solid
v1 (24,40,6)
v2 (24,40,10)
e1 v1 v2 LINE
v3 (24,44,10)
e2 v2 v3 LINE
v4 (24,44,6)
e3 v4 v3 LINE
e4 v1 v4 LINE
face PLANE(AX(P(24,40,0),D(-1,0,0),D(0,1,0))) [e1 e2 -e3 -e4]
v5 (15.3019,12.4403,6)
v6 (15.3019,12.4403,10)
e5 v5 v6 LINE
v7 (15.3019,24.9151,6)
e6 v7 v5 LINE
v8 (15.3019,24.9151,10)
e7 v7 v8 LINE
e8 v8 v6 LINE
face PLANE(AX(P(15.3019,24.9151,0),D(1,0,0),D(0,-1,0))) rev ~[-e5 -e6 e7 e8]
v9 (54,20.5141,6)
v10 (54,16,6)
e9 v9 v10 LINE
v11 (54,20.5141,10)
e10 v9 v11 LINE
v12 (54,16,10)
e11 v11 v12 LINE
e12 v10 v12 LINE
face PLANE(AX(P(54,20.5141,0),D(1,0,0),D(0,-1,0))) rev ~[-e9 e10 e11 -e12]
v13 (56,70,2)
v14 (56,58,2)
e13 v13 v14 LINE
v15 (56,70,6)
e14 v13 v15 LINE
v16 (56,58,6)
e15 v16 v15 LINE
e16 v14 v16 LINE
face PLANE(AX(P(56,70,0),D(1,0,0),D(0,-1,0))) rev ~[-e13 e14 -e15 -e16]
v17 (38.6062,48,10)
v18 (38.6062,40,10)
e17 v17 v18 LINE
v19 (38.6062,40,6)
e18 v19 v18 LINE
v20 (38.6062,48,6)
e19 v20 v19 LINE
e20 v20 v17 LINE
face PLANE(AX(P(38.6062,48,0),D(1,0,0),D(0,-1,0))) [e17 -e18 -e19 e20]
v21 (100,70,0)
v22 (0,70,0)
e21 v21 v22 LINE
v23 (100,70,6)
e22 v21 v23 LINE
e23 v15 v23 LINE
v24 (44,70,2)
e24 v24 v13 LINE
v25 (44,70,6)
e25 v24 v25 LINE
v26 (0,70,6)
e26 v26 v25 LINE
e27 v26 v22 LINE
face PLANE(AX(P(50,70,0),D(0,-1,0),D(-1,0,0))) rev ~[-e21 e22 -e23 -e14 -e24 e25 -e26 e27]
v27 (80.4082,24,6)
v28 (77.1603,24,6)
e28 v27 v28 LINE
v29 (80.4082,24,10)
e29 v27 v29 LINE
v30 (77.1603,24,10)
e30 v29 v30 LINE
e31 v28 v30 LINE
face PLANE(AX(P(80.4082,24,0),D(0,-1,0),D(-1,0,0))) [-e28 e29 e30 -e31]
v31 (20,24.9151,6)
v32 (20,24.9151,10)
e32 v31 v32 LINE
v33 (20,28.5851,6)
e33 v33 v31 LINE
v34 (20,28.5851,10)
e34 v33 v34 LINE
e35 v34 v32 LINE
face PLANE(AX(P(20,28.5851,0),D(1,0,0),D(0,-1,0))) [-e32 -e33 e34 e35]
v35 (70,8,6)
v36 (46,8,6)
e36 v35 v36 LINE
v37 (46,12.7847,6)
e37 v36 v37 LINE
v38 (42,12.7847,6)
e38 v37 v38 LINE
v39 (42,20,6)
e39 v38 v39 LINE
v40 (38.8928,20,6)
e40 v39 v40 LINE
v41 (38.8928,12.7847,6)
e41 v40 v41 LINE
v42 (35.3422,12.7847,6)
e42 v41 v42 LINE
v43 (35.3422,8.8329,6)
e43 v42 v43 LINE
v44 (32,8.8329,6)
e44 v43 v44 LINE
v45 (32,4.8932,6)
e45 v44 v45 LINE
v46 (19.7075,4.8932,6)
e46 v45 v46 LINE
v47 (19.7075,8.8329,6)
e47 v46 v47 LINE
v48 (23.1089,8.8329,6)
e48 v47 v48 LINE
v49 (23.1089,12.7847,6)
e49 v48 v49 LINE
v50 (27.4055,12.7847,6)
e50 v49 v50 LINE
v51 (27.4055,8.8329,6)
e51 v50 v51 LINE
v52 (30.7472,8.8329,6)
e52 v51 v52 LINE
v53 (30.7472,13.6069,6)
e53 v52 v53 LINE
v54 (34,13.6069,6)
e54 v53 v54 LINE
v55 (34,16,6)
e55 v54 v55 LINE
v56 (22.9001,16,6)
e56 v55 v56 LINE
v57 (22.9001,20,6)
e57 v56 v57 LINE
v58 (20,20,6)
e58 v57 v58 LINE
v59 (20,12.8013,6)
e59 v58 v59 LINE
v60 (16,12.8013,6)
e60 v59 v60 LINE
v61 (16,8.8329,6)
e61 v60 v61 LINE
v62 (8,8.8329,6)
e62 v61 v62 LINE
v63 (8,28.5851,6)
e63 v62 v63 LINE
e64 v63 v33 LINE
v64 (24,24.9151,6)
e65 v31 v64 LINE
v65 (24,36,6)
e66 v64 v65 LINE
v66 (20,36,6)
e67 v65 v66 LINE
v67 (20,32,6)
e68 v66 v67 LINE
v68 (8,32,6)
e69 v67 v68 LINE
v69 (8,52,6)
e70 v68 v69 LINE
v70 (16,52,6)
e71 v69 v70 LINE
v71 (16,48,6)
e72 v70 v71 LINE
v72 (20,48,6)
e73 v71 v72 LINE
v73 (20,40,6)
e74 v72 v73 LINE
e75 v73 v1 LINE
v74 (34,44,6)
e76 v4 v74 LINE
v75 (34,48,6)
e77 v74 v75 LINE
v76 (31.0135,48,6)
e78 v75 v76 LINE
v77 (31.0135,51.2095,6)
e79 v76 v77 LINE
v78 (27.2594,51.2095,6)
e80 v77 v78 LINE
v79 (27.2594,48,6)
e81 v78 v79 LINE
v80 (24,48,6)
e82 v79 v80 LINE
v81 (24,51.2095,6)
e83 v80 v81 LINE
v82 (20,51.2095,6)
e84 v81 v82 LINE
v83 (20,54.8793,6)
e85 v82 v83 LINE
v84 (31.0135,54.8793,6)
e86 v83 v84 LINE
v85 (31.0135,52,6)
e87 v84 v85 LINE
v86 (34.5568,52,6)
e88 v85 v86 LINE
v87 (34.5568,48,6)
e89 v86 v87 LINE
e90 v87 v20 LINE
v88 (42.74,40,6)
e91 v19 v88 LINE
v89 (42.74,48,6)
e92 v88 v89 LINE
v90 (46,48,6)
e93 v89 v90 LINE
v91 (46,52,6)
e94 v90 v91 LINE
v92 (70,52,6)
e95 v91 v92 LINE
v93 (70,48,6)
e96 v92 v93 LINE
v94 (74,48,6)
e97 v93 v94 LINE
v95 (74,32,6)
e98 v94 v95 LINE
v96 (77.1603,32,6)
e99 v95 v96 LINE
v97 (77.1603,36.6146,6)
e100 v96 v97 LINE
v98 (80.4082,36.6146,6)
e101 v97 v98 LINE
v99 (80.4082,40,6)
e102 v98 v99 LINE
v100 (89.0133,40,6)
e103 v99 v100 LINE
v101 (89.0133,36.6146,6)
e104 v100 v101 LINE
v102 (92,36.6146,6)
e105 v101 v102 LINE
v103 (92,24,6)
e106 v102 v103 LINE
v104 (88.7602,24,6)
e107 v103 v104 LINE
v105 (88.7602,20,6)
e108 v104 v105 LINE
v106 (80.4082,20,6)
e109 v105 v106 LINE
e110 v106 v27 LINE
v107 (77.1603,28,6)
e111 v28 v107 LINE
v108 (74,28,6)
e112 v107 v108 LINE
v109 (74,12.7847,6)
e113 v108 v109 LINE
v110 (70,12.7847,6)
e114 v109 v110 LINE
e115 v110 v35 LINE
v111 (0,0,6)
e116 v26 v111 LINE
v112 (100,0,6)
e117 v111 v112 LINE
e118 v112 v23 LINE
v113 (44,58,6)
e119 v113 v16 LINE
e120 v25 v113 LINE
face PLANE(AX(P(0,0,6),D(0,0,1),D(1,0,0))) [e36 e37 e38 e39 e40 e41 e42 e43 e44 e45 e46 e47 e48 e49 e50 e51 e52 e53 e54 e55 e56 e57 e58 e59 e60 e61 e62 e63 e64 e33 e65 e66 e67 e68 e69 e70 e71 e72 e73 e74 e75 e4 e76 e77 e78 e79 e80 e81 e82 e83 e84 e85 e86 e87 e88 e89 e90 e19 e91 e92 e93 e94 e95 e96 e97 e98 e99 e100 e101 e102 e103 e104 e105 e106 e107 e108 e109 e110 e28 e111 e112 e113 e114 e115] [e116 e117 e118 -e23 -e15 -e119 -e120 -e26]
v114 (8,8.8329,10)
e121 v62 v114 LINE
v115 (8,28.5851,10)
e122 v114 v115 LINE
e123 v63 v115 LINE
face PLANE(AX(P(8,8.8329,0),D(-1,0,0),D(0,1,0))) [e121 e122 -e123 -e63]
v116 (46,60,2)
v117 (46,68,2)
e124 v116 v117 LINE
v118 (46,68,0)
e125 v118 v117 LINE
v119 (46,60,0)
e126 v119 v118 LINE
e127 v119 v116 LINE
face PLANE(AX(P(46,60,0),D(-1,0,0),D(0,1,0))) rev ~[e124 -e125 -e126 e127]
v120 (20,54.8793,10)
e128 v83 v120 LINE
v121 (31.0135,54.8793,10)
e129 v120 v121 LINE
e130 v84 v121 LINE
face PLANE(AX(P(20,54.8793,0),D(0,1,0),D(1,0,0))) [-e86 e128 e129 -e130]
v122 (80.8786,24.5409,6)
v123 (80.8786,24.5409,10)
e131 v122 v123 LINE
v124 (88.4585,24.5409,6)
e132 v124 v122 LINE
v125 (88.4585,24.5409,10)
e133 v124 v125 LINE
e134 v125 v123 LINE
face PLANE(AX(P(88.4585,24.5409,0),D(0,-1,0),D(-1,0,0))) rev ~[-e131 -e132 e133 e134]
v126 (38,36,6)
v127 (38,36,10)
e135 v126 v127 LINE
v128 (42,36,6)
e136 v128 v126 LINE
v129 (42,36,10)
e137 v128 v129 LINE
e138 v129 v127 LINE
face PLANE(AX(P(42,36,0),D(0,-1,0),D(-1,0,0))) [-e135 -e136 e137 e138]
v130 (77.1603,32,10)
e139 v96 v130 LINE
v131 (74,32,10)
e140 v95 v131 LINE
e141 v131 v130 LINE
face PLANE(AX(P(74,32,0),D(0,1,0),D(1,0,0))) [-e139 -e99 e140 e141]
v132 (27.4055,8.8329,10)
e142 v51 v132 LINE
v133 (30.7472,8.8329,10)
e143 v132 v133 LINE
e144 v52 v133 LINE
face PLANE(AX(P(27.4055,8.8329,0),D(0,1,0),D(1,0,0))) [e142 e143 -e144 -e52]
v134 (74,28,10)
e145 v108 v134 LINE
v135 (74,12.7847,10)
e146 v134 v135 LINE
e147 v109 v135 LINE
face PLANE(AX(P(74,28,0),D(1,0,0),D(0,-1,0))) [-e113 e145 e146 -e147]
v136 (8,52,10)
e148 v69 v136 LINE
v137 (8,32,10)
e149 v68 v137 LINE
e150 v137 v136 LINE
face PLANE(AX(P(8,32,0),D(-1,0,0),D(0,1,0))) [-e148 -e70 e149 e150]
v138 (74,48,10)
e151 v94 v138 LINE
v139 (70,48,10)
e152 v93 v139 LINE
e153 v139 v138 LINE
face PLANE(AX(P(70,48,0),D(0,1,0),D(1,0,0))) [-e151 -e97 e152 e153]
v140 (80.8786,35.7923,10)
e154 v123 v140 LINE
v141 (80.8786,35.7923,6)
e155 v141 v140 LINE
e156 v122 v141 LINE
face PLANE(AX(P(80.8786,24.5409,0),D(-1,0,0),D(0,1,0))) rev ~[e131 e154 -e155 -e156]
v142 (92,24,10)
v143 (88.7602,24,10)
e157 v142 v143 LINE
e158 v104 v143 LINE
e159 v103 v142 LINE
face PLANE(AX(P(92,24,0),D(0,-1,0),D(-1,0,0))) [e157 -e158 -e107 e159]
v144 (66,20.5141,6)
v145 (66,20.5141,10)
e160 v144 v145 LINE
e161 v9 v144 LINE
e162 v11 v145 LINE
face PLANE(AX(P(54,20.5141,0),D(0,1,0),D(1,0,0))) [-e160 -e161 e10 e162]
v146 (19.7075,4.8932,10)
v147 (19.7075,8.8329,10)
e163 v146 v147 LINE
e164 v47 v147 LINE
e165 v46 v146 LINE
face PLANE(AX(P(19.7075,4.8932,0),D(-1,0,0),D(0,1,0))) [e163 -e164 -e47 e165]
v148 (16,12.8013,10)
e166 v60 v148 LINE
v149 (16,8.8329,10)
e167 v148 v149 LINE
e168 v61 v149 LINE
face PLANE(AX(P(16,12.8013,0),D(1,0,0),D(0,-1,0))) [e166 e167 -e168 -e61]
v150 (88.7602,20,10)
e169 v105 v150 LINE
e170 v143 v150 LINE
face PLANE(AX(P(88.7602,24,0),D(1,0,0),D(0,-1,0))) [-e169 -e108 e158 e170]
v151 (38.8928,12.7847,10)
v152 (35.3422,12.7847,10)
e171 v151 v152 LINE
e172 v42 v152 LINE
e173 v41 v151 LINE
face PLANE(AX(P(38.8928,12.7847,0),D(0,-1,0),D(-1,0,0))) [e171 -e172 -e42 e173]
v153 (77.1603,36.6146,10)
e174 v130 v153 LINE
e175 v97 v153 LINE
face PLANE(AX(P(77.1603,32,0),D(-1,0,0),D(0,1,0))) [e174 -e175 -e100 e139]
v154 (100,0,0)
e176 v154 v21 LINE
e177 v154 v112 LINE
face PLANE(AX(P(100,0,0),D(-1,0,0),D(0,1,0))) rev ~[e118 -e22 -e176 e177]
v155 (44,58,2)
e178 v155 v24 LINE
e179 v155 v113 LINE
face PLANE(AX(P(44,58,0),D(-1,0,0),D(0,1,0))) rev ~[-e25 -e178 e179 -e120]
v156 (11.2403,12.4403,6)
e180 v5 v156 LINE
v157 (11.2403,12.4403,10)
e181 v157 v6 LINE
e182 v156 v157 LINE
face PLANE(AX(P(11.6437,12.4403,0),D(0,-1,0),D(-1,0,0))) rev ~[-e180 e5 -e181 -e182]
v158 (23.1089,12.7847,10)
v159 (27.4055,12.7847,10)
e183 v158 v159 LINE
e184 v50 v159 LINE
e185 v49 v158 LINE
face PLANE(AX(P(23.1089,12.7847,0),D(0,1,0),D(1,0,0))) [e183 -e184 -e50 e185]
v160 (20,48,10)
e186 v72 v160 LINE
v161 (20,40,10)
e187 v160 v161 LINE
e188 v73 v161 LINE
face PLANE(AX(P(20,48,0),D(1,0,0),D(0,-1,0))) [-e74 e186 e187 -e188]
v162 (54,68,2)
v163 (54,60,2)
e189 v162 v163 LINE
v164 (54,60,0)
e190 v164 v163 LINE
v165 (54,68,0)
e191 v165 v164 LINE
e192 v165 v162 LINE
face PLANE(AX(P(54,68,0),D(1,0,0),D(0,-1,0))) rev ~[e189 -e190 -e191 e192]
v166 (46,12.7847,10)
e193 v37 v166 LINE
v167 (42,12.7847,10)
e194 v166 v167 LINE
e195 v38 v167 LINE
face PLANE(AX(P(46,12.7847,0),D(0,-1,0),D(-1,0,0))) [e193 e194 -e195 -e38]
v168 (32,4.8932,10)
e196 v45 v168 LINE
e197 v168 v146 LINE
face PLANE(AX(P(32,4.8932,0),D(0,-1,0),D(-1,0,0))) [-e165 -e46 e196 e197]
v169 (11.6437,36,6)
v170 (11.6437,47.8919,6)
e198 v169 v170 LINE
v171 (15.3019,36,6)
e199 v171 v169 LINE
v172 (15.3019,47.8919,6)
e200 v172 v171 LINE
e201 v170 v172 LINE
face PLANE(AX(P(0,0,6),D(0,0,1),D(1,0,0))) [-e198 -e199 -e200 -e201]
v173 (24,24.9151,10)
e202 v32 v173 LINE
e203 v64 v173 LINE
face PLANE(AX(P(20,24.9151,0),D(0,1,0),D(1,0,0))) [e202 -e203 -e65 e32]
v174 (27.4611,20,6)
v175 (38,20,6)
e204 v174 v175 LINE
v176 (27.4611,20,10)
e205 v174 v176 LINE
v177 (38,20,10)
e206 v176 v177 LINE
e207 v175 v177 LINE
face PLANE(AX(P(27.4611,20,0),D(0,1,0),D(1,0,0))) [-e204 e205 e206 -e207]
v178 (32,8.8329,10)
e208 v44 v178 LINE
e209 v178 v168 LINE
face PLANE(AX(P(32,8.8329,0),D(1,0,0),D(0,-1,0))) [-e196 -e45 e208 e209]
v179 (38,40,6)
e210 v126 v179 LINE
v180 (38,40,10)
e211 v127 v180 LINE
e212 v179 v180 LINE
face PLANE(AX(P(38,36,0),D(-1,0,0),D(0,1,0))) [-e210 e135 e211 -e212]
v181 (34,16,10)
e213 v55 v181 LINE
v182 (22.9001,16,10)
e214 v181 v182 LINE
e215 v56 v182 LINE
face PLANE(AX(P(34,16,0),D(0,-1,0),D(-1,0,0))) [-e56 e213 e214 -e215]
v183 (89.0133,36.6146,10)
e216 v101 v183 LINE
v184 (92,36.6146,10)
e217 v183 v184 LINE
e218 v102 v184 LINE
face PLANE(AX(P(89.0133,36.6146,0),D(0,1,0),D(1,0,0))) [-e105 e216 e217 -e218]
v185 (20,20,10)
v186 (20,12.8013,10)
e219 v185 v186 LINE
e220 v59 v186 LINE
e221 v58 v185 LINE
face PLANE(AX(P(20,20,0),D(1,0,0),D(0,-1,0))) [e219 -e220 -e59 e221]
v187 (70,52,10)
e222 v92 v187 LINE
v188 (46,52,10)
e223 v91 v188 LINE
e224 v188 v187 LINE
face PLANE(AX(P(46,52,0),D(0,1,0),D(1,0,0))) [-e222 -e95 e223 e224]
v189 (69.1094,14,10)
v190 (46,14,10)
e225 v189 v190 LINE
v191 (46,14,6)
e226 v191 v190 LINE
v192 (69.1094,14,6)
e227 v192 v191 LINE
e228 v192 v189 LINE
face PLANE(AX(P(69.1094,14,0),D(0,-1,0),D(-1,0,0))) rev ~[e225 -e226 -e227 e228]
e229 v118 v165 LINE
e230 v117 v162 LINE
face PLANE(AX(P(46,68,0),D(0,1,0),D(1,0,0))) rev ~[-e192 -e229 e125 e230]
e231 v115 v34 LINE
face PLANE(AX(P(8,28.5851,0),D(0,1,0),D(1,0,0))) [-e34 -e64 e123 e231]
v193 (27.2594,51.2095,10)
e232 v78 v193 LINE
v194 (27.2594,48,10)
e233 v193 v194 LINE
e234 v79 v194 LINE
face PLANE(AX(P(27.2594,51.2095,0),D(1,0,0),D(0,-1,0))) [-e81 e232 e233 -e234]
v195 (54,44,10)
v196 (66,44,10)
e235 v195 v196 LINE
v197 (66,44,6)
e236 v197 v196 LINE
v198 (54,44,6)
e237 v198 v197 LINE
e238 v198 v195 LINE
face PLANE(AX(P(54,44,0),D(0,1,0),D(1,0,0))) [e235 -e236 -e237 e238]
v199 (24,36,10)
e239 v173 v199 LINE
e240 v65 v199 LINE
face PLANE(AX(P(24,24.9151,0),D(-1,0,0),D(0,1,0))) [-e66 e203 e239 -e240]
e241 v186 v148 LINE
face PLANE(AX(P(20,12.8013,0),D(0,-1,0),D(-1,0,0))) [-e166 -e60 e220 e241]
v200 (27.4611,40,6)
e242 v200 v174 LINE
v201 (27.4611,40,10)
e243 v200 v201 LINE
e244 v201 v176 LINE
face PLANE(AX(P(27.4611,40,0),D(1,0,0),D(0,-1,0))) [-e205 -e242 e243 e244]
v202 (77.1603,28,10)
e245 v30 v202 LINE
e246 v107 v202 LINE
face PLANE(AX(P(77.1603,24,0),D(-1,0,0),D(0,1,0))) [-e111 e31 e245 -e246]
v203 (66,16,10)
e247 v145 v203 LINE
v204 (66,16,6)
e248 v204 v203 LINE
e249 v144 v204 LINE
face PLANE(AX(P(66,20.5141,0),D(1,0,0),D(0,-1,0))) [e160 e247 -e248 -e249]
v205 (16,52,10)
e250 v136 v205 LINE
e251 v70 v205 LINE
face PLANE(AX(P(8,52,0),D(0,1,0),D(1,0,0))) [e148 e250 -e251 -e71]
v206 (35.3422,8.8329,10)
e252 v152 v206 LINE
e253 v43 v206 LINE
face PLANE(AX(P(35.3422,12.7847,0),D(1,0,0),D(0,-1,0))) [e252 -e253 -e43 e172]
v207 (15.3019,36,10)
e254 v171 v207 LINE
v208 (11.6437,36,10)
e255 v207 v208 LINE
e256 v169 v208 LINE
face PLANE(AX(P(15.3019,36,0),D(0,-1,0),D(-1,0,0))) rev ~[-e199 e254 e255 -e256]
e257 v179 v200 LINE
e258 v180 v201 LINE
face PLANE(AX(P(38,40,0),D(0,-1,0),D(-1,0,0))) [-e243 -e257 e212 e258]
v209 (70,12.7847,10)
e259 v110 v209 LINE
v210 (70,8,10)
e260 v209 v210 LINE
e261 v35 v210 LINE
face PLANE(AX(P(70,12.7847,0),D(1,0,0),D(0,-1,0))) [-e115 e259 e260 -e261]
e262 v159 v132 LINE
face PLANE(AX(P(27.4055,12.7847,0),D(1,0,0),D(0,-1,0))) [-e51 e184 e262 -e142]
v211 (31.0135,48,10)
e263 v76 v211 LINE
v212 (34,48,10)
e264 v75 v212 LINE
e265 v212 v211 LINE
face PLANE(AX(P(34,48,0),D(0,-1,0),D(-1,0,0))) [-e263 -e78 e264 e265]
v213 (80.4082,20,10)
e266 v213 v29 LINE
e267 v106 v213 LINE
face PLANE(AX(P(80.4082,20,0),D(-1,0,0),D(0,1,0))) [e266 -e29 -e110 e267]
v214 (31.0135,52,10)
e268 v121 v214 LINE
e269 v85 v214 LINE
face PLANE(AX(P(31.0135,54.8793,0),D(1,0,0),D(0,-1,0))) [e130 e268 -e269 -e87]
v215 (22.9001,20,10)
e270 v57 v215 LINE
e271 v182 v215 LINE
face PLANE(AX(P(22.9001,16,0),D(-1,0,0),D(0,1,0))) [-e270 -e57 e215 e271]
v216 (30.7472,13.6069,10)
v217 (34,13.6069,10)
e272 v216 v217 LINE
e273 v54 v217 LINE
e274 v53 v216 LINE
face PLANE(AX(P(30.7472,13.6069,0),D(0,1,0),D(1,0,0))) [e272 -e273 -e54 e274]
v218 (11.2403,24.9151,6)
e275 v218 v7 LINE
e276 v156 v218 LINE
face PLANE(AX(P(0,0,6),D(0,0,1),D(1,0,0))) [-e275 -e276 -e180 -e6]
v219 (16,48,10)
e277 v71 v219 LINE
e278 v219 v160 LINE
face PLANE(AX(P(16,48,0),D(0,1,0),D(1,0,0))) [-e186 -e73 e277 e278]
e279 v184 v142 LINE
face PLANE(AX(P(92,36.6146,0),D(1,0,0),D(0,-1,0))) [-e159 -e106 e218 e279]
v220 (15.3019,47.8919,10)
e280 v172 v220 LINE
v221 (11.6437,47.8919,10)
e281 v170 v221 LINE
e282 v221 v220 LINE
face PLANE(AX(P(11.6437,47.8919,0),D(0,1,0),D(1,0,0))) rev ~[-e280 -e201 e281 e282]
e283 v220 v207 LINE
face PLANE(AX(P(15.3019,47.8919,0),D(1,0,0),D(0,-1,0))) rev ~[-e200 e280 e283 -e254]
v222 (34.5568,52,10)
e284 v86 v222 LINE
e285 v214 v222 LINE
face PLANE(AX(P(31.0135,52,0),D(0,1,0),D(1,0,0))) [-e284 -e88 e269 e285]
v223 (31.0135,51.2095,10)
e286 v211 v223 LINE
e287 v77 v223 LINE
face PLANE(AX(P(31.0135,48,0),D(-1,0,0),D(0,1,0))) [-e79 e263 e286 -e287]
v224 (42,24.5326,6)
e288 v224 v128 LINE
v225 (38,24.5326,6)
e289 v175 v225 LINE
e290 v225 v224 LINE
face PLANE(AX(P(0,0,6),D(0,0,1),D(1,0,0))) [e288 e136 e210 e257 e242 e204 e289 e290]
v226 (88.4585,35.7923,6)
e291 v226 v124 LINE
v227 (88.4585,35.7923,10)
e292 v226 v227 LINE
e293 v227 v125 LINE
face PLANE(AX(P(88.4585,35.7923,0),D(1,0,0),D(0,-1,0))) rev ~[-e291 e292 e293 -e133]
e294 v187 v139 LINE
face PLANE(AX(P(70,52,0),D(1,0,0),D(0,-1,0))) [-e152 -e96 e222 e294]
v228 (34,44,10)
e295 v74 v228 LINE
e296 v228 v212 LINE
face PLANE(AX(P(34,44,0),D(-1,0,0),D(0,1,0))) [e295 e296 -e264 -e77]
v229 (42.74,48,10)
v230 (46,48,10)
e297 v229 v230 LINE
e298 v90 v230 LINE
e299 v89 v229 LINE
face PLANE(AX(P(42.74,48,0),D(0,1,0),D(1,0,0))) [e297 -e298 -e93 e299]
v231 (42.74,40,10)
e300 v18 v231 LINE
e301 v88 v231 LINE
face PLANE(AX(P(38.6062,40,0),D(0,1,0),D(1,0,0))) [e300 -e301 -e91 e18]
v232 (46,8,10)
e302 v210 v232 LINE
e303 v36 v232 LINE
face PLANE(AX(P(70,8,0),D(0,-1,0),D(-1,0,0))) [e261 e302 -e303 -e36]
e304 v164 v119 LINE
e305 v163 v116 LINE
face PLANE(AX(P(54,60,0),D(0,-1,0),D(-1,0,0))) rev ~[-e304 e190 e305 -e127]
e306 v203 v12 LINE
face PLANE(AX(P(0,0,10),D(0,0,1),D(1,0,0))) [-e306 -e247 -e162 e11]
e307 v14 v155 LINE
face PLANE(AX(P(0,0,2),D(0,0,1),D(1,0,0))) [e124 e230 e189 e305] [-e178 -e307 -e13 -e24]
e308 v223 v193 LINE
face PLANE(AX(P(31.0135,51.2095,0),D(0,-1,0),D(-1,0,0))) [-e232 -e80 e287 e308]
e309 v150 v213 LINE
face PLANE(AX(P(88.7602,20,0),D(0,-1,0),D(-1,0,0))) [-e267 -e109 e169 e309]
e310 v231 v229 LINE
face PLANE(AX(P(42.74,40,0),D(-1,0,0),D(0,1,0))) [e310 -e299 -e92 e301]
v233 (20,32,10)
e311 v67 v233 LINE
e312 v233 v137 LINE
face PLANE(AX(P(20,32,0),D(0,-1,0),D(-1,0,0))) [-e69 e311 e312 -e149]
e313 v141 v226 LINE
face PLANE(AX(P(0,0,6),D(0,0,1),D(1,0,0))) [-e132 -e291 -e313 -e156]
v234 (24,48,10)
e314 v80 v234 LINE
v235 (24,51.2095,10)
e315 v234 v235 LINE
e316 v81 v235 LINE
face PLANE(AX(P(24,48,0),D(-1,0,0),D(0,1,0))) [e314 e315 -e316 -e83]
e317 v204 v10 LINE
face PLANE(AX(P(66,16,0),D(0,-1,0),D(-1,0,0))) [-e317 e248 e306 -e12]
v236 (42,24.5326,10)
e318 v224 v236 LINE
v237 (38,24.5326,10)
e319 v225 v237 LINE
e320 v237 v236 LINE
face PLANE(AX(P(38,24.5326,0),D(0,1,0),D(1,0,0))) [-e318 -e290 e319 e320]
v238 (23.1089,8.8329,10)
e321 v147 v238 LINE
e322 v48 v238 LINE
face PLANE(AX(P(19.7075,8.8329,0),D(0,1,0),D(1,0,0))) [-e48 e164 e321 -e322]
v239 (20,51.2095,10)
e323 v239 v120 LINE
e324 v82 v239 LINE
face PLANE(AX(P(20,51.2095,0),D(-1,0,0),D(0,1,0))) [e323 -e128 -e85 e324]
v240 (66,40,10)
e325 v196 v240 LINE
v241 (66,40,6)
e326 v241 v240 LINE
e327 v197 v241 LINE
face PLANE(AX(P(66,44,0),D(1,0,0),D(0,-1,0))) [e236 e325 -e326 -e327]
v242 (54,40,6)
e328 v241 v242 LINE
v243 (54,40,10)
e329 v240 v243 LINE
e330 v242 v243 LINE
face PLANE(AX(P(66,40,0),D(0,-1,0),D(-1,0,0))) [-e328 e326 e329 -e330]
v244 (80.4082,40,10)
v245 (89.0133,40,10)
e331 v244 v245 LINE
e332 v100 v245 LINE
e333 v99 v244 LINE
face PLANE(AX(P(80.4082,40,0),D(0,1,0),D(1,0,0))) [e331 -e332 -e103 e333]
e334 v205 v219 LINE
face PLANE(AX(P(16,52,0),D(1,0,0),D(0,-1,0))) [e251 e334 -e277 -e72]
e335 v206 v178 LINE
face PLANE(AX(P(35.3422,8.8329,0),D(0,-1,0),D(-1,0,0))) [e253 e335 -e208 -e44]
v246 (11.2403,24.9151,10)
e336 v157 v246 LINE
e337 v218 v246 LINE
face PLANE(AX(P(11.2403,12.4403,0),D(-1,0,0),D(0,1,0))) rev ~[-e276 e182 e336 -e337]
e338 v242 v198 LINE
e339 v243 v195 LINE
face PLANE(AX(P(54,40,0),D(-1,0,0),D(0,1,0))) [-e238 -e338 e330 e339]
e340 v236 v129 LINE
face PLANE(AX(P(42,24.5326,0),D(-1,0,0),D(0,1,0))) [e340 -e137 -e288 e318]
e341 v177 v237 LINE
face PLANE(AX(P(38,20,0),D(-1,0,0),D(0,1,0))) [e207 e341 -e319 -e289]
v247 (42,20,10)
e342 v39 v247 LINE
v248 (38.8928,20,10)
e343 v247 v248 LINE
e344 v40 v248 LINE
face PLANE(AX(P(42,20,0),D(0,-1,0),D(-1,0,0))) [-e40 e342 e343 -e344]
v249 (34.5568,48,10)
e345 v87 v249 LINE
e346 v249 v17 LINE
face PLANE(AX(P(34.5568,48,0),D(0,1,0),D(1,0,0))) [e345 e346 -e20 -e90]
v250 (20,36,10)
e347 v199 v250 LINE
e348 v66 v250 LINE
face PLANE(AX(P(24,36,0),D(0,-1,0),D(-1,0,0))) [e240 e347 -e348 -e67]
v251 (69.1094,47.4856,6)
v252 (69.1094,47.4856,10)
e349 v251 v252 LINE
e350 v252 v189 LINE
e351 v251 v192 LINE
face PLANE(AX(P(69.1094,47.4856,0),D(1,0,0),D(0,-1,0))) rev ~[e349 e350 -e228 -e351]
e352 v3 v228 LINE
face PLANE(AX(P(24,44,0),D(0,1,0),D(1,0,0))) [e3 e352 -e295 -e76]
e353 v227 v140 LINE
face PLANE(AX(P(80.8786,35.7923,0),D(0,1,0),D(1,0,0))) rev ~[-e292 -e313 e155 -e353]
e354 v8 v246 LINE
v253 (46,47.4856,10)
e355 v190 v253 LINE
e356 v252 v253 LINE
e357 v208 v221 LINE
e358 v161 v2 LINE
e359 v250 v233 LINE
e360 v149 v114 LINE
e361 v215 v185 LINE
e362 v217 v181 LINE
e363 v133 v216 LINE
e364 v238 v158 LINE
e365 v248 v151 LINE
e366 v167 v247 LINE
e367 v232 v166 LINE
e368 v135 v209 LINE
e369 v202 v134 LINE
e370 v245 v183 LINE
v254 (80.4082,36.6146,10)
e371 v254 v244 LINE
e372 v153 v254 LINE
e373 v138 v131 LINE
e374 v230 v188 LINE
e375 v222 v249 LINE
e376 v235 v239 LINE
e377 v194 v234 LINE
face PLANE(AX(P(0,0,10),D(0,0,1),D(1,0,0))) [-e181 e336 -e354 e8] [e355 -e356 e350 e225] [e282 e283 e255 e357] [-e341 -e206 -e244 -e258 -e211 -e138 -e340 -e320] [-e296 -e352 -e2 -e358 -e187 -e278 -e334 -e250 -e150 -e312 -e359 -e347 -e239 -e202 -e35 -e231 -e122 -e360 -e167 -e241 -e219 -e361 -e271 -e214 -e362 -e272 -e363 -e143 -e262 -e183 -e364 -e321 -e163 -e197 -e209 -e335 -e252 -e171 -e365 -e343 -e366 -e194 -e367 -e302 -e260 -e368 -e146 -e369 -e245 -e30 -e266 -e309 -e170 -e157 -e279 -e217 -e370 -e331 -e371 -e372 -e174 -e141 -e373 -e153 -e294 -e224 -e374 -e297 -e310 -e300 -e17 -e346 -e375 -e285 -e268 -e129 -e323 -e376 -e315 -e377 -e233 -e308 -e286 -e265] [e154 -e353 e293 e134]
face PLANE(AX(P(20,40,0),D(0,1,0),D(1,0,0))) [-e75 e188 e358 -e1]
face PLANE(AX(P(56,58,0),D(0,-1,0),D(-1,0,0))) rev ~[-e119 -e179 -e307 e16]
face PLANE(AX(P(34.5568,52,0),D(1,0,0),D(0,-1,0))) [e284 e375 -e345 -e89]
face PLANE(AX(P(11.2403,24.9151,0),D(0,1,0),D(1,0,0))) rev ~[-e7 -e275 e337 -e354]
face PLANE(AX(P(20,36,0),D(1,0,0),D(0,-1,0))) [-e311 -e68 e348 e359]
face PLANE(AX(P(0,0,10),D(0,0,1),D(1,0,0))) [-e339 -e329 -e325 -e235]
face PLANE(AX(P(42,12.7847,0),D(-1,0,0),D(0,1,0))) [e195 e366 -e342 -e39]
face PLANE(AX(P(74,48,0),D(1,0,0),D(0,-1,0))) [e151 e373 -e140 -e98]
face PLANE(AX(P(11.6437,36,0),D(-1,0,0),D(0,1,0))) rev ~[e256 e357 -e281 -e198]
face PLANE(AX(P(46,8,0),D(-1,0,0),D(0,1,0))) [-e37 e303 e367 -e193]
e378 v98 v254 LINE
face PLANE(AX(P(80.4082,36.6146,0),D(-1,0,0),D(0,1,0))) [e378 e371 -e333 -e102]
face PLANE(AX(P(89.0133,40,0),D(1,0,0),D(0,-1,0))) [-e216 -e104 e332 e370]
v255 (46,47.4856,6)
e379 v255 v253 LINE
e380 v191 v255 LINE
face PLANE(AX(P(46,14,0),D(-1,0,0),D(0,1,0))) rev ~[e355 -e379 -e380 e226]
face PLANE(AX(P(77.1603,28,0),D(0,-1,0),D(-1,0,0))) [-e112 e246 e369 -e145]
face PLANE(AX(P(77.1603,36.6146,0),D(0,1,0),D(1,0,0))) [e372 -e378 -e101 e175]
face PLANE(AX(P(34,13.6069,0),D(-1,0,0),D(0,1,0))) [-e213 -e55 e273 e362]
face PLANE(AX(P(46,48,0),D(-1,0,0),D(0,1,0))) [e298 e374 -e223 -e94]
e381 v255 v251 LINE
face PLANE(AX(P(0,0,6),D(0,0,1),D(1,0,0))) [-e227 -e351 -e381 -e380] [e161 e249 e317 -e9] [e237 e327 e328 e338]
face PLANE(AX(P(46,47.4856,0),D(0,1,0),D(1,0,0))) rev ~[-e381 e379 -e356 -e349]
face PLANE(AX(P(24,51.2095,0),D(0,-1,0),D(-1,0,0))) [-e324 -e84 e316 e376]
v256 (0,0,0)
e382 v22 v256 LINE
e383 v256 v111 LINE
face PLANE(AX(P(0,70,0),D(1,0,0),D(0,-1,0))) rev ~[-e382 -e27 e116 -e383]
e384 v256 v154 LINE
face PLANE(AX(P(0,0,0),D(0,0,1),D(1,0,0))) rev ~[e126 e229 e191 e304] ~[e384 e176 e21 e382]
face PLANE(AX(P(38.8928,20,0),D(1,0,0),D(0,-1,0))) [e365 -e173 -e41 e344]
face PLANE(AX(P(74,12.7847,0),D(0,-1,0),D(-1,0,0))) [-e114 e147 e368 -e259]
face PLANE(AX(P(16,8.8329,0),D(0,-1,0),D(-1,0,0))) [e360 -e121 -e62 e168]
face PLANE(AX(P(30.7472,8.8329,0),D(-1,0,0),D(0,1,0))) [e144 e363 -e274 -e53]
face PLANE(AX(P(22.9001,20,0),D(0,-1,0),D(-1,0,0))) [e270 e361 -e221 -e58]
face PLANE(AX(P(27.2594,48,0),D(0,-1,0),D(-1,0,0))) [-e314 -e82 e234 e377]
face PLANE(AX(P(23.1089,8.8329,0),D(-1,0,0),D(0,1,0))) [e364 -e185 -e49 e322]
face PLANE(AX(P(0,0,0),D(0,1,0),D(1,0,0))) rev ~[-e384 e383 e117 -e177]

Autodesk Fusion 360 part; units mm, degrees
sketch "Sketch1" plane through (0, 0, 0) normal (0, 0, 1) x (1, 0, 0)
  line L0 (0, 0) -> (100, 0)
  line L1 (100, 0) -> (100, 70)
  line L2 (100, 70) -> (0, 70)
  line L3 (0, 70) -> (0, 0)
  line L4 (8, 52) -> (16, 52)
  line L5 (16, 52) -> (16, 48)
  line L6 (16, 48) -> (20, 48)
  line L7 (20, 48) -> (20, 40)
  line L8 (20, 40) -> (24, 40)
  line L9 (24, 40) -> (24, 44)
  line L10 (24, 44) -> (34, 44)
  line L11 (34, 44) -> (34, 48)
  line L12 (34, 48) -> (31.0135, 48)
  line L13 (31.0135, 48) -> (31.0135, 51.2095)
  line L14 (31.0135, 51.2095) -> (27.2594, 51.2095)
  line L15 (27.2594, 51.2095) -> (27.2594, 48)
  line L16 (27.2594, 48) -> (24, 48)
  line L17 (24, 48) -> (24, 51.2095)
  line L18 (24, 51.2095) -> (20, 51.2095)
  line L19 (20, 51.2095) -> (20, 54.8793)
  line L20 (20, 54.8793) -> (31.0135, 54.8793)
  line L21 (31.0135, 54.8793) -> (31.0135, 52)
  line L22 (31.0135, 52) -> (34.5568, 52)
  line L23 (34.5568, 52) -> (34.5568, 48)
  line L24 (34.5568, 48) -> (38.6062, 48)
  line L25 (38.6062, 48) -> (38.6062, 40)
  line L26 (38.6062, 40) -> (42.74, 40)
  line L27 (42.74, 40) -> (42.74, 48)
  line L28 (42.74, 48) -> (46, 48)
  line L29 (46, 48) -> (46, 52)
  line L30 (70, 52) -> (70, 48)
  line L31 (70, 48) -> (74, 48)
  line L32 (74, 48) -> (74, 32)
  line L33 (74, 32) -> (77.1603, 32)
  line L34 (77.1603, 32) -> (77.1603, 36.6146)
  line L35 (77.1603, 36.6146) -> (80.4082, 36.6146)
  line L36 (80.4082, 36.6146) -> (80.4082, 40)
  line L37 (80.4082, 40) -> (89.0133, 40)
  line L38 (89.0133, 40) -> (89.0133, 36.6146)
  line L39 (89.0133, 36.6146) -> (92, 36.6146)
  line L40 (92, 36.6146) -> (92, 24)
  line L41 (92, 24) -> (88.7602, 24)
  line L42 (88.7602, 24) -> (88.7602, 20)
  line L43 (88.7602, 20) -> (80.6613, 20)
  line L44 (80.6613, 20) -> (80.4082, 20)
  line L45 (80.4082, 20) -> (80.4082, 24)
  line L46 (80.4082, 24) -> (77.1603, 24)
  line L47 (77.1603, 24) -> (77.1603, 28)
  line L48 (77.1603, 28) -> (74, 28)
  line L49 (74, 28) -> (74, 12.7847)
  line L50 (74, 12.7847) -> (70, 12.7847)
  line L51 (70, 12.7847) -> (70, 8)
  line L52 (70, 8) -> (46, 8)
  line L53 (46, 8) -> (46, 12.7847)
  line L54 (46, 12.7847) -> (42, 12.7847)
  line L55 (42, 12.7847) -> (42, 20)
  line L56 (42, 20) -> (38.8928, 20)
  line L57 (38.8928, 20) -> (38.8928, 12.7847)
  line L58 (38.8928, 12.7847) -> (35.3422, 12.7847)
  line L59 (35.3422, 12.7847) -> (35.3422, 8.8329)
  line L60 (35.3422, 8.8329) -> (32, 8.8329)
  line L61 (32, 8.8329) -> (32, 4.8932)
  line L62 (32, 4.8932) -> (19.7075, 4.8932)
  line L63 (19.7075, 4.8932) -> (19.7075, 8.8329)
  line L64 (19.7075, 8.8329) -> (23.1089, 8.8329)
  line L65 (23.1089, 8.8329) -> (23.1089, 12.7847)
  line L66 (23.1089, 12.7847) -> (27.4055, 12.7847)
  line L67 (27.4055, 12.7847) -> (27.4055, 8.8329)
  line L68 (27.4055, 8.8329) -> (30.7472, 8.8329)
  line L69 (30.7472, 8.8329) -> (30.7472, 12.7847)
  line L70 (30.7472, 12.7847) -> (30.7472, 13.6069)
  line L71 (30.7472, 13.6069) -> (34, 13.6069)
  line L72 (34, 13.6069) -> (34, 16)
  line L73 (34, 16) -> (22.9001, 16)
  line L74 (22.9001, 16) -> (22.9001, 20)
  line L75 (22.9001, 20) -> (20, 20)
  line L76 (20, 20) -> (20, 13.1891)
  line L77 (20, 13.1891) -> (20, 12.8013)
  line L78 (20, 12.8013) -> (16, 12.8013)
  line L79 (16, 12.8013) -> (16, 8.8329)
  line L80 (16, 8.8329) -> (8, 8.8329)
  line L81 (8, 8.8329) -> (8, 28.5851)
  line L82 (8, 28.5851) -> (19.3793, 28.5851)
  line L83 (19.3793, 28.5851) -> (20, 28.5851)
  line L84 (20, 28.5851) -> (20, 24.9151)
  line L85 (20, 24.9151) -> (22.8106, 24.9151)
  line L86 (22.8106, 24.9151) -> (24, 24.9151)
  line L87 (24, 24.9151) -> (24, 36)
  line L88 (24, 36) -> (20, 36)
  line L89 (20, 36) -> (20, 32)
  line L90 (20, 32) -> (8, 32)
  line L91 (8, 32) -> (8, 52)
  line L92 (11.6437, 47.8919) -> (15.3019, 47.8919)
  line L93 (15.3019, 47.8919) -> (15.3019, 36)
  line L94 (15.3019, 36) -> (11.6437, 36)
  line L95 (11.6437, 36) -> (11.6437, 47.8919)
  line L96 (11.495, 24.9151) -> (15.3019, 24.9151)
  line L97 (15.3019, 24.9151) -> (15.3019, 12.4403)
  line L98 (15.3019, 12.4403) -> (11.6437, 12.4403)
  line L99 (11.6437, 12.4403) -> (11.2403, 12.4403)
  line L100 (11.2403, 12.4403) -> (11.2403, 24.9151)
  line L101 (11.2403, 24.9151) -> (11.495, 24.9151)
  line L102 (27.4611, 40) -> (27.4611, 20)
  line L103 (27.4611, 20) -> (38, 20)
  line L104 (38, 20) -> (38, 24.5326)
  line L105 (38, 24.5326) -> (42, 24.5326)
  line L106 (42, 24.5326) -> (42, 36)
  line L107 (42, 36) -> (38, 36)
  line L108 (38, 36) -> (38, 40)
  line L109 (38, 40) -> (27.4611, 40)
  line L110 (46.6458, 47.4856) -> (69.1094, 47.4856)
  line L111 (69.1094, 47.4856) -> (69.1094, 14)
  line L112 (69.1094, 14) -> (46, 14)
  line L113 (46, 14) -> (46, 47.4856)
  line L114 (46, 47.4856) -> (46.6458, 47.4856)
  line L115 (54, 44) -> (66, 44)
  line L116 (66, 44) -> (66, 40)
  line L117 (66, 40) -> (54, 40)
  line L118 (54, 40) -> (54, 44)
  line L119 (54, 20.5141) -> (66, 20.5141)
  line L120 (66, 20.5141) -> (66, 16)
  line L121 (66, 16) -> (54, 16)
  line L122 (54, 20.5141) -> (54, 16)
  line L123 (81.0563, 35.7923) -> (88.4585, 35.7923)
  line L124 (88.4585, 35.7923) -> (88.4585, 24.5409)
  line L125 (88.4585, 24.5409) -> (80.8786, 24.5409)
  line L126 (80.8786, 24.5409) -> (80.8786, 35.7923)
  line L127 (80.8786, 35.7923) -> (81.0563, 35.7923)
  line L128 (0, 70) -> (12, 70)
  line L129 (50, 70) -> (56, 70)
  line L130 (56, 70) -> (56, 58)
  line L131 (56, 58) -> (44, 58)
  line L132 (44, 58) -> (44, 70)
  line L133 (46, 68) -> (54, 68)
  line L134 (54, 68) -> (54, 60)
  line L135 (54, 60) -> (46, 60)
  line L136 (46, 60) -> (46, 68)
  line L137 (46, 52) -> (70, 52)
  dimension "d1" = 100
  dimension "d2" = 70
extrude "Extrude1" add sketch "Sketch1" along normal blind 2 makes body 1 at (13.948, 16.5986, 0) makes body 2 at (74.6667, 63.3333, 0) makes body 3 at (62, 27.0094, 0) makes body 4 at (12.8631, 43.928, 0) makes body 5 at (30.9741, 28.1775, 0) makes body 6 at (85.9319, 28.2914, 0)
extrude "Extrude2" add sketch "Sketch1" along normal blind 10 contours L4 L5 L6 L7 L8 L9 L10 L11 L12 L13 L14 L15 L16 L17 L18 L19 L20 L21 L22 L23 L24 L25 L26 L27 L28 L29 L30 L31 L32 L33 L34 L35 L36 L37 L38 L39 L40 L41 L42 L43 L44 L45 L46 L47 L48 L49 L50 L51 L52 L53 L54 L55 L56 L57 L58 L59 L60 L61 L62 L63 L64 L65 L66 L67 L68 L69 L70 L71 L72 L73 L74 L75 L76 L77 L78 L79 L80 L81 L82 L83 L84 L85 L86 L87 L88 L89 L90 L91 L137 | L115 L116 L117 L118 | L119 L120 L121 L122 bodies 1 2 3 4 5 6
extrude "Extrude3" add 6 faces at (74.6667, 63.3333, 2) (62, 27.0094, 2) (85.9319, 28.2914, 2) (30.9741, 28.1775, 2) (12.8631, 43.928, 2) (13.948, 16.5986, 2) along direction (0, 0, 1) blind 4 on bodies 1 bodies 1
extrude "Extrude4" cut sketch "Sketch1" along normal blind 11 contours L2 L129 L130 L131 L132 bodies 1
extrude "Extrude5" add sketch "Sketch1" along normal blind 2 contours L2 L129 L130 L131 L132 bodies 1
